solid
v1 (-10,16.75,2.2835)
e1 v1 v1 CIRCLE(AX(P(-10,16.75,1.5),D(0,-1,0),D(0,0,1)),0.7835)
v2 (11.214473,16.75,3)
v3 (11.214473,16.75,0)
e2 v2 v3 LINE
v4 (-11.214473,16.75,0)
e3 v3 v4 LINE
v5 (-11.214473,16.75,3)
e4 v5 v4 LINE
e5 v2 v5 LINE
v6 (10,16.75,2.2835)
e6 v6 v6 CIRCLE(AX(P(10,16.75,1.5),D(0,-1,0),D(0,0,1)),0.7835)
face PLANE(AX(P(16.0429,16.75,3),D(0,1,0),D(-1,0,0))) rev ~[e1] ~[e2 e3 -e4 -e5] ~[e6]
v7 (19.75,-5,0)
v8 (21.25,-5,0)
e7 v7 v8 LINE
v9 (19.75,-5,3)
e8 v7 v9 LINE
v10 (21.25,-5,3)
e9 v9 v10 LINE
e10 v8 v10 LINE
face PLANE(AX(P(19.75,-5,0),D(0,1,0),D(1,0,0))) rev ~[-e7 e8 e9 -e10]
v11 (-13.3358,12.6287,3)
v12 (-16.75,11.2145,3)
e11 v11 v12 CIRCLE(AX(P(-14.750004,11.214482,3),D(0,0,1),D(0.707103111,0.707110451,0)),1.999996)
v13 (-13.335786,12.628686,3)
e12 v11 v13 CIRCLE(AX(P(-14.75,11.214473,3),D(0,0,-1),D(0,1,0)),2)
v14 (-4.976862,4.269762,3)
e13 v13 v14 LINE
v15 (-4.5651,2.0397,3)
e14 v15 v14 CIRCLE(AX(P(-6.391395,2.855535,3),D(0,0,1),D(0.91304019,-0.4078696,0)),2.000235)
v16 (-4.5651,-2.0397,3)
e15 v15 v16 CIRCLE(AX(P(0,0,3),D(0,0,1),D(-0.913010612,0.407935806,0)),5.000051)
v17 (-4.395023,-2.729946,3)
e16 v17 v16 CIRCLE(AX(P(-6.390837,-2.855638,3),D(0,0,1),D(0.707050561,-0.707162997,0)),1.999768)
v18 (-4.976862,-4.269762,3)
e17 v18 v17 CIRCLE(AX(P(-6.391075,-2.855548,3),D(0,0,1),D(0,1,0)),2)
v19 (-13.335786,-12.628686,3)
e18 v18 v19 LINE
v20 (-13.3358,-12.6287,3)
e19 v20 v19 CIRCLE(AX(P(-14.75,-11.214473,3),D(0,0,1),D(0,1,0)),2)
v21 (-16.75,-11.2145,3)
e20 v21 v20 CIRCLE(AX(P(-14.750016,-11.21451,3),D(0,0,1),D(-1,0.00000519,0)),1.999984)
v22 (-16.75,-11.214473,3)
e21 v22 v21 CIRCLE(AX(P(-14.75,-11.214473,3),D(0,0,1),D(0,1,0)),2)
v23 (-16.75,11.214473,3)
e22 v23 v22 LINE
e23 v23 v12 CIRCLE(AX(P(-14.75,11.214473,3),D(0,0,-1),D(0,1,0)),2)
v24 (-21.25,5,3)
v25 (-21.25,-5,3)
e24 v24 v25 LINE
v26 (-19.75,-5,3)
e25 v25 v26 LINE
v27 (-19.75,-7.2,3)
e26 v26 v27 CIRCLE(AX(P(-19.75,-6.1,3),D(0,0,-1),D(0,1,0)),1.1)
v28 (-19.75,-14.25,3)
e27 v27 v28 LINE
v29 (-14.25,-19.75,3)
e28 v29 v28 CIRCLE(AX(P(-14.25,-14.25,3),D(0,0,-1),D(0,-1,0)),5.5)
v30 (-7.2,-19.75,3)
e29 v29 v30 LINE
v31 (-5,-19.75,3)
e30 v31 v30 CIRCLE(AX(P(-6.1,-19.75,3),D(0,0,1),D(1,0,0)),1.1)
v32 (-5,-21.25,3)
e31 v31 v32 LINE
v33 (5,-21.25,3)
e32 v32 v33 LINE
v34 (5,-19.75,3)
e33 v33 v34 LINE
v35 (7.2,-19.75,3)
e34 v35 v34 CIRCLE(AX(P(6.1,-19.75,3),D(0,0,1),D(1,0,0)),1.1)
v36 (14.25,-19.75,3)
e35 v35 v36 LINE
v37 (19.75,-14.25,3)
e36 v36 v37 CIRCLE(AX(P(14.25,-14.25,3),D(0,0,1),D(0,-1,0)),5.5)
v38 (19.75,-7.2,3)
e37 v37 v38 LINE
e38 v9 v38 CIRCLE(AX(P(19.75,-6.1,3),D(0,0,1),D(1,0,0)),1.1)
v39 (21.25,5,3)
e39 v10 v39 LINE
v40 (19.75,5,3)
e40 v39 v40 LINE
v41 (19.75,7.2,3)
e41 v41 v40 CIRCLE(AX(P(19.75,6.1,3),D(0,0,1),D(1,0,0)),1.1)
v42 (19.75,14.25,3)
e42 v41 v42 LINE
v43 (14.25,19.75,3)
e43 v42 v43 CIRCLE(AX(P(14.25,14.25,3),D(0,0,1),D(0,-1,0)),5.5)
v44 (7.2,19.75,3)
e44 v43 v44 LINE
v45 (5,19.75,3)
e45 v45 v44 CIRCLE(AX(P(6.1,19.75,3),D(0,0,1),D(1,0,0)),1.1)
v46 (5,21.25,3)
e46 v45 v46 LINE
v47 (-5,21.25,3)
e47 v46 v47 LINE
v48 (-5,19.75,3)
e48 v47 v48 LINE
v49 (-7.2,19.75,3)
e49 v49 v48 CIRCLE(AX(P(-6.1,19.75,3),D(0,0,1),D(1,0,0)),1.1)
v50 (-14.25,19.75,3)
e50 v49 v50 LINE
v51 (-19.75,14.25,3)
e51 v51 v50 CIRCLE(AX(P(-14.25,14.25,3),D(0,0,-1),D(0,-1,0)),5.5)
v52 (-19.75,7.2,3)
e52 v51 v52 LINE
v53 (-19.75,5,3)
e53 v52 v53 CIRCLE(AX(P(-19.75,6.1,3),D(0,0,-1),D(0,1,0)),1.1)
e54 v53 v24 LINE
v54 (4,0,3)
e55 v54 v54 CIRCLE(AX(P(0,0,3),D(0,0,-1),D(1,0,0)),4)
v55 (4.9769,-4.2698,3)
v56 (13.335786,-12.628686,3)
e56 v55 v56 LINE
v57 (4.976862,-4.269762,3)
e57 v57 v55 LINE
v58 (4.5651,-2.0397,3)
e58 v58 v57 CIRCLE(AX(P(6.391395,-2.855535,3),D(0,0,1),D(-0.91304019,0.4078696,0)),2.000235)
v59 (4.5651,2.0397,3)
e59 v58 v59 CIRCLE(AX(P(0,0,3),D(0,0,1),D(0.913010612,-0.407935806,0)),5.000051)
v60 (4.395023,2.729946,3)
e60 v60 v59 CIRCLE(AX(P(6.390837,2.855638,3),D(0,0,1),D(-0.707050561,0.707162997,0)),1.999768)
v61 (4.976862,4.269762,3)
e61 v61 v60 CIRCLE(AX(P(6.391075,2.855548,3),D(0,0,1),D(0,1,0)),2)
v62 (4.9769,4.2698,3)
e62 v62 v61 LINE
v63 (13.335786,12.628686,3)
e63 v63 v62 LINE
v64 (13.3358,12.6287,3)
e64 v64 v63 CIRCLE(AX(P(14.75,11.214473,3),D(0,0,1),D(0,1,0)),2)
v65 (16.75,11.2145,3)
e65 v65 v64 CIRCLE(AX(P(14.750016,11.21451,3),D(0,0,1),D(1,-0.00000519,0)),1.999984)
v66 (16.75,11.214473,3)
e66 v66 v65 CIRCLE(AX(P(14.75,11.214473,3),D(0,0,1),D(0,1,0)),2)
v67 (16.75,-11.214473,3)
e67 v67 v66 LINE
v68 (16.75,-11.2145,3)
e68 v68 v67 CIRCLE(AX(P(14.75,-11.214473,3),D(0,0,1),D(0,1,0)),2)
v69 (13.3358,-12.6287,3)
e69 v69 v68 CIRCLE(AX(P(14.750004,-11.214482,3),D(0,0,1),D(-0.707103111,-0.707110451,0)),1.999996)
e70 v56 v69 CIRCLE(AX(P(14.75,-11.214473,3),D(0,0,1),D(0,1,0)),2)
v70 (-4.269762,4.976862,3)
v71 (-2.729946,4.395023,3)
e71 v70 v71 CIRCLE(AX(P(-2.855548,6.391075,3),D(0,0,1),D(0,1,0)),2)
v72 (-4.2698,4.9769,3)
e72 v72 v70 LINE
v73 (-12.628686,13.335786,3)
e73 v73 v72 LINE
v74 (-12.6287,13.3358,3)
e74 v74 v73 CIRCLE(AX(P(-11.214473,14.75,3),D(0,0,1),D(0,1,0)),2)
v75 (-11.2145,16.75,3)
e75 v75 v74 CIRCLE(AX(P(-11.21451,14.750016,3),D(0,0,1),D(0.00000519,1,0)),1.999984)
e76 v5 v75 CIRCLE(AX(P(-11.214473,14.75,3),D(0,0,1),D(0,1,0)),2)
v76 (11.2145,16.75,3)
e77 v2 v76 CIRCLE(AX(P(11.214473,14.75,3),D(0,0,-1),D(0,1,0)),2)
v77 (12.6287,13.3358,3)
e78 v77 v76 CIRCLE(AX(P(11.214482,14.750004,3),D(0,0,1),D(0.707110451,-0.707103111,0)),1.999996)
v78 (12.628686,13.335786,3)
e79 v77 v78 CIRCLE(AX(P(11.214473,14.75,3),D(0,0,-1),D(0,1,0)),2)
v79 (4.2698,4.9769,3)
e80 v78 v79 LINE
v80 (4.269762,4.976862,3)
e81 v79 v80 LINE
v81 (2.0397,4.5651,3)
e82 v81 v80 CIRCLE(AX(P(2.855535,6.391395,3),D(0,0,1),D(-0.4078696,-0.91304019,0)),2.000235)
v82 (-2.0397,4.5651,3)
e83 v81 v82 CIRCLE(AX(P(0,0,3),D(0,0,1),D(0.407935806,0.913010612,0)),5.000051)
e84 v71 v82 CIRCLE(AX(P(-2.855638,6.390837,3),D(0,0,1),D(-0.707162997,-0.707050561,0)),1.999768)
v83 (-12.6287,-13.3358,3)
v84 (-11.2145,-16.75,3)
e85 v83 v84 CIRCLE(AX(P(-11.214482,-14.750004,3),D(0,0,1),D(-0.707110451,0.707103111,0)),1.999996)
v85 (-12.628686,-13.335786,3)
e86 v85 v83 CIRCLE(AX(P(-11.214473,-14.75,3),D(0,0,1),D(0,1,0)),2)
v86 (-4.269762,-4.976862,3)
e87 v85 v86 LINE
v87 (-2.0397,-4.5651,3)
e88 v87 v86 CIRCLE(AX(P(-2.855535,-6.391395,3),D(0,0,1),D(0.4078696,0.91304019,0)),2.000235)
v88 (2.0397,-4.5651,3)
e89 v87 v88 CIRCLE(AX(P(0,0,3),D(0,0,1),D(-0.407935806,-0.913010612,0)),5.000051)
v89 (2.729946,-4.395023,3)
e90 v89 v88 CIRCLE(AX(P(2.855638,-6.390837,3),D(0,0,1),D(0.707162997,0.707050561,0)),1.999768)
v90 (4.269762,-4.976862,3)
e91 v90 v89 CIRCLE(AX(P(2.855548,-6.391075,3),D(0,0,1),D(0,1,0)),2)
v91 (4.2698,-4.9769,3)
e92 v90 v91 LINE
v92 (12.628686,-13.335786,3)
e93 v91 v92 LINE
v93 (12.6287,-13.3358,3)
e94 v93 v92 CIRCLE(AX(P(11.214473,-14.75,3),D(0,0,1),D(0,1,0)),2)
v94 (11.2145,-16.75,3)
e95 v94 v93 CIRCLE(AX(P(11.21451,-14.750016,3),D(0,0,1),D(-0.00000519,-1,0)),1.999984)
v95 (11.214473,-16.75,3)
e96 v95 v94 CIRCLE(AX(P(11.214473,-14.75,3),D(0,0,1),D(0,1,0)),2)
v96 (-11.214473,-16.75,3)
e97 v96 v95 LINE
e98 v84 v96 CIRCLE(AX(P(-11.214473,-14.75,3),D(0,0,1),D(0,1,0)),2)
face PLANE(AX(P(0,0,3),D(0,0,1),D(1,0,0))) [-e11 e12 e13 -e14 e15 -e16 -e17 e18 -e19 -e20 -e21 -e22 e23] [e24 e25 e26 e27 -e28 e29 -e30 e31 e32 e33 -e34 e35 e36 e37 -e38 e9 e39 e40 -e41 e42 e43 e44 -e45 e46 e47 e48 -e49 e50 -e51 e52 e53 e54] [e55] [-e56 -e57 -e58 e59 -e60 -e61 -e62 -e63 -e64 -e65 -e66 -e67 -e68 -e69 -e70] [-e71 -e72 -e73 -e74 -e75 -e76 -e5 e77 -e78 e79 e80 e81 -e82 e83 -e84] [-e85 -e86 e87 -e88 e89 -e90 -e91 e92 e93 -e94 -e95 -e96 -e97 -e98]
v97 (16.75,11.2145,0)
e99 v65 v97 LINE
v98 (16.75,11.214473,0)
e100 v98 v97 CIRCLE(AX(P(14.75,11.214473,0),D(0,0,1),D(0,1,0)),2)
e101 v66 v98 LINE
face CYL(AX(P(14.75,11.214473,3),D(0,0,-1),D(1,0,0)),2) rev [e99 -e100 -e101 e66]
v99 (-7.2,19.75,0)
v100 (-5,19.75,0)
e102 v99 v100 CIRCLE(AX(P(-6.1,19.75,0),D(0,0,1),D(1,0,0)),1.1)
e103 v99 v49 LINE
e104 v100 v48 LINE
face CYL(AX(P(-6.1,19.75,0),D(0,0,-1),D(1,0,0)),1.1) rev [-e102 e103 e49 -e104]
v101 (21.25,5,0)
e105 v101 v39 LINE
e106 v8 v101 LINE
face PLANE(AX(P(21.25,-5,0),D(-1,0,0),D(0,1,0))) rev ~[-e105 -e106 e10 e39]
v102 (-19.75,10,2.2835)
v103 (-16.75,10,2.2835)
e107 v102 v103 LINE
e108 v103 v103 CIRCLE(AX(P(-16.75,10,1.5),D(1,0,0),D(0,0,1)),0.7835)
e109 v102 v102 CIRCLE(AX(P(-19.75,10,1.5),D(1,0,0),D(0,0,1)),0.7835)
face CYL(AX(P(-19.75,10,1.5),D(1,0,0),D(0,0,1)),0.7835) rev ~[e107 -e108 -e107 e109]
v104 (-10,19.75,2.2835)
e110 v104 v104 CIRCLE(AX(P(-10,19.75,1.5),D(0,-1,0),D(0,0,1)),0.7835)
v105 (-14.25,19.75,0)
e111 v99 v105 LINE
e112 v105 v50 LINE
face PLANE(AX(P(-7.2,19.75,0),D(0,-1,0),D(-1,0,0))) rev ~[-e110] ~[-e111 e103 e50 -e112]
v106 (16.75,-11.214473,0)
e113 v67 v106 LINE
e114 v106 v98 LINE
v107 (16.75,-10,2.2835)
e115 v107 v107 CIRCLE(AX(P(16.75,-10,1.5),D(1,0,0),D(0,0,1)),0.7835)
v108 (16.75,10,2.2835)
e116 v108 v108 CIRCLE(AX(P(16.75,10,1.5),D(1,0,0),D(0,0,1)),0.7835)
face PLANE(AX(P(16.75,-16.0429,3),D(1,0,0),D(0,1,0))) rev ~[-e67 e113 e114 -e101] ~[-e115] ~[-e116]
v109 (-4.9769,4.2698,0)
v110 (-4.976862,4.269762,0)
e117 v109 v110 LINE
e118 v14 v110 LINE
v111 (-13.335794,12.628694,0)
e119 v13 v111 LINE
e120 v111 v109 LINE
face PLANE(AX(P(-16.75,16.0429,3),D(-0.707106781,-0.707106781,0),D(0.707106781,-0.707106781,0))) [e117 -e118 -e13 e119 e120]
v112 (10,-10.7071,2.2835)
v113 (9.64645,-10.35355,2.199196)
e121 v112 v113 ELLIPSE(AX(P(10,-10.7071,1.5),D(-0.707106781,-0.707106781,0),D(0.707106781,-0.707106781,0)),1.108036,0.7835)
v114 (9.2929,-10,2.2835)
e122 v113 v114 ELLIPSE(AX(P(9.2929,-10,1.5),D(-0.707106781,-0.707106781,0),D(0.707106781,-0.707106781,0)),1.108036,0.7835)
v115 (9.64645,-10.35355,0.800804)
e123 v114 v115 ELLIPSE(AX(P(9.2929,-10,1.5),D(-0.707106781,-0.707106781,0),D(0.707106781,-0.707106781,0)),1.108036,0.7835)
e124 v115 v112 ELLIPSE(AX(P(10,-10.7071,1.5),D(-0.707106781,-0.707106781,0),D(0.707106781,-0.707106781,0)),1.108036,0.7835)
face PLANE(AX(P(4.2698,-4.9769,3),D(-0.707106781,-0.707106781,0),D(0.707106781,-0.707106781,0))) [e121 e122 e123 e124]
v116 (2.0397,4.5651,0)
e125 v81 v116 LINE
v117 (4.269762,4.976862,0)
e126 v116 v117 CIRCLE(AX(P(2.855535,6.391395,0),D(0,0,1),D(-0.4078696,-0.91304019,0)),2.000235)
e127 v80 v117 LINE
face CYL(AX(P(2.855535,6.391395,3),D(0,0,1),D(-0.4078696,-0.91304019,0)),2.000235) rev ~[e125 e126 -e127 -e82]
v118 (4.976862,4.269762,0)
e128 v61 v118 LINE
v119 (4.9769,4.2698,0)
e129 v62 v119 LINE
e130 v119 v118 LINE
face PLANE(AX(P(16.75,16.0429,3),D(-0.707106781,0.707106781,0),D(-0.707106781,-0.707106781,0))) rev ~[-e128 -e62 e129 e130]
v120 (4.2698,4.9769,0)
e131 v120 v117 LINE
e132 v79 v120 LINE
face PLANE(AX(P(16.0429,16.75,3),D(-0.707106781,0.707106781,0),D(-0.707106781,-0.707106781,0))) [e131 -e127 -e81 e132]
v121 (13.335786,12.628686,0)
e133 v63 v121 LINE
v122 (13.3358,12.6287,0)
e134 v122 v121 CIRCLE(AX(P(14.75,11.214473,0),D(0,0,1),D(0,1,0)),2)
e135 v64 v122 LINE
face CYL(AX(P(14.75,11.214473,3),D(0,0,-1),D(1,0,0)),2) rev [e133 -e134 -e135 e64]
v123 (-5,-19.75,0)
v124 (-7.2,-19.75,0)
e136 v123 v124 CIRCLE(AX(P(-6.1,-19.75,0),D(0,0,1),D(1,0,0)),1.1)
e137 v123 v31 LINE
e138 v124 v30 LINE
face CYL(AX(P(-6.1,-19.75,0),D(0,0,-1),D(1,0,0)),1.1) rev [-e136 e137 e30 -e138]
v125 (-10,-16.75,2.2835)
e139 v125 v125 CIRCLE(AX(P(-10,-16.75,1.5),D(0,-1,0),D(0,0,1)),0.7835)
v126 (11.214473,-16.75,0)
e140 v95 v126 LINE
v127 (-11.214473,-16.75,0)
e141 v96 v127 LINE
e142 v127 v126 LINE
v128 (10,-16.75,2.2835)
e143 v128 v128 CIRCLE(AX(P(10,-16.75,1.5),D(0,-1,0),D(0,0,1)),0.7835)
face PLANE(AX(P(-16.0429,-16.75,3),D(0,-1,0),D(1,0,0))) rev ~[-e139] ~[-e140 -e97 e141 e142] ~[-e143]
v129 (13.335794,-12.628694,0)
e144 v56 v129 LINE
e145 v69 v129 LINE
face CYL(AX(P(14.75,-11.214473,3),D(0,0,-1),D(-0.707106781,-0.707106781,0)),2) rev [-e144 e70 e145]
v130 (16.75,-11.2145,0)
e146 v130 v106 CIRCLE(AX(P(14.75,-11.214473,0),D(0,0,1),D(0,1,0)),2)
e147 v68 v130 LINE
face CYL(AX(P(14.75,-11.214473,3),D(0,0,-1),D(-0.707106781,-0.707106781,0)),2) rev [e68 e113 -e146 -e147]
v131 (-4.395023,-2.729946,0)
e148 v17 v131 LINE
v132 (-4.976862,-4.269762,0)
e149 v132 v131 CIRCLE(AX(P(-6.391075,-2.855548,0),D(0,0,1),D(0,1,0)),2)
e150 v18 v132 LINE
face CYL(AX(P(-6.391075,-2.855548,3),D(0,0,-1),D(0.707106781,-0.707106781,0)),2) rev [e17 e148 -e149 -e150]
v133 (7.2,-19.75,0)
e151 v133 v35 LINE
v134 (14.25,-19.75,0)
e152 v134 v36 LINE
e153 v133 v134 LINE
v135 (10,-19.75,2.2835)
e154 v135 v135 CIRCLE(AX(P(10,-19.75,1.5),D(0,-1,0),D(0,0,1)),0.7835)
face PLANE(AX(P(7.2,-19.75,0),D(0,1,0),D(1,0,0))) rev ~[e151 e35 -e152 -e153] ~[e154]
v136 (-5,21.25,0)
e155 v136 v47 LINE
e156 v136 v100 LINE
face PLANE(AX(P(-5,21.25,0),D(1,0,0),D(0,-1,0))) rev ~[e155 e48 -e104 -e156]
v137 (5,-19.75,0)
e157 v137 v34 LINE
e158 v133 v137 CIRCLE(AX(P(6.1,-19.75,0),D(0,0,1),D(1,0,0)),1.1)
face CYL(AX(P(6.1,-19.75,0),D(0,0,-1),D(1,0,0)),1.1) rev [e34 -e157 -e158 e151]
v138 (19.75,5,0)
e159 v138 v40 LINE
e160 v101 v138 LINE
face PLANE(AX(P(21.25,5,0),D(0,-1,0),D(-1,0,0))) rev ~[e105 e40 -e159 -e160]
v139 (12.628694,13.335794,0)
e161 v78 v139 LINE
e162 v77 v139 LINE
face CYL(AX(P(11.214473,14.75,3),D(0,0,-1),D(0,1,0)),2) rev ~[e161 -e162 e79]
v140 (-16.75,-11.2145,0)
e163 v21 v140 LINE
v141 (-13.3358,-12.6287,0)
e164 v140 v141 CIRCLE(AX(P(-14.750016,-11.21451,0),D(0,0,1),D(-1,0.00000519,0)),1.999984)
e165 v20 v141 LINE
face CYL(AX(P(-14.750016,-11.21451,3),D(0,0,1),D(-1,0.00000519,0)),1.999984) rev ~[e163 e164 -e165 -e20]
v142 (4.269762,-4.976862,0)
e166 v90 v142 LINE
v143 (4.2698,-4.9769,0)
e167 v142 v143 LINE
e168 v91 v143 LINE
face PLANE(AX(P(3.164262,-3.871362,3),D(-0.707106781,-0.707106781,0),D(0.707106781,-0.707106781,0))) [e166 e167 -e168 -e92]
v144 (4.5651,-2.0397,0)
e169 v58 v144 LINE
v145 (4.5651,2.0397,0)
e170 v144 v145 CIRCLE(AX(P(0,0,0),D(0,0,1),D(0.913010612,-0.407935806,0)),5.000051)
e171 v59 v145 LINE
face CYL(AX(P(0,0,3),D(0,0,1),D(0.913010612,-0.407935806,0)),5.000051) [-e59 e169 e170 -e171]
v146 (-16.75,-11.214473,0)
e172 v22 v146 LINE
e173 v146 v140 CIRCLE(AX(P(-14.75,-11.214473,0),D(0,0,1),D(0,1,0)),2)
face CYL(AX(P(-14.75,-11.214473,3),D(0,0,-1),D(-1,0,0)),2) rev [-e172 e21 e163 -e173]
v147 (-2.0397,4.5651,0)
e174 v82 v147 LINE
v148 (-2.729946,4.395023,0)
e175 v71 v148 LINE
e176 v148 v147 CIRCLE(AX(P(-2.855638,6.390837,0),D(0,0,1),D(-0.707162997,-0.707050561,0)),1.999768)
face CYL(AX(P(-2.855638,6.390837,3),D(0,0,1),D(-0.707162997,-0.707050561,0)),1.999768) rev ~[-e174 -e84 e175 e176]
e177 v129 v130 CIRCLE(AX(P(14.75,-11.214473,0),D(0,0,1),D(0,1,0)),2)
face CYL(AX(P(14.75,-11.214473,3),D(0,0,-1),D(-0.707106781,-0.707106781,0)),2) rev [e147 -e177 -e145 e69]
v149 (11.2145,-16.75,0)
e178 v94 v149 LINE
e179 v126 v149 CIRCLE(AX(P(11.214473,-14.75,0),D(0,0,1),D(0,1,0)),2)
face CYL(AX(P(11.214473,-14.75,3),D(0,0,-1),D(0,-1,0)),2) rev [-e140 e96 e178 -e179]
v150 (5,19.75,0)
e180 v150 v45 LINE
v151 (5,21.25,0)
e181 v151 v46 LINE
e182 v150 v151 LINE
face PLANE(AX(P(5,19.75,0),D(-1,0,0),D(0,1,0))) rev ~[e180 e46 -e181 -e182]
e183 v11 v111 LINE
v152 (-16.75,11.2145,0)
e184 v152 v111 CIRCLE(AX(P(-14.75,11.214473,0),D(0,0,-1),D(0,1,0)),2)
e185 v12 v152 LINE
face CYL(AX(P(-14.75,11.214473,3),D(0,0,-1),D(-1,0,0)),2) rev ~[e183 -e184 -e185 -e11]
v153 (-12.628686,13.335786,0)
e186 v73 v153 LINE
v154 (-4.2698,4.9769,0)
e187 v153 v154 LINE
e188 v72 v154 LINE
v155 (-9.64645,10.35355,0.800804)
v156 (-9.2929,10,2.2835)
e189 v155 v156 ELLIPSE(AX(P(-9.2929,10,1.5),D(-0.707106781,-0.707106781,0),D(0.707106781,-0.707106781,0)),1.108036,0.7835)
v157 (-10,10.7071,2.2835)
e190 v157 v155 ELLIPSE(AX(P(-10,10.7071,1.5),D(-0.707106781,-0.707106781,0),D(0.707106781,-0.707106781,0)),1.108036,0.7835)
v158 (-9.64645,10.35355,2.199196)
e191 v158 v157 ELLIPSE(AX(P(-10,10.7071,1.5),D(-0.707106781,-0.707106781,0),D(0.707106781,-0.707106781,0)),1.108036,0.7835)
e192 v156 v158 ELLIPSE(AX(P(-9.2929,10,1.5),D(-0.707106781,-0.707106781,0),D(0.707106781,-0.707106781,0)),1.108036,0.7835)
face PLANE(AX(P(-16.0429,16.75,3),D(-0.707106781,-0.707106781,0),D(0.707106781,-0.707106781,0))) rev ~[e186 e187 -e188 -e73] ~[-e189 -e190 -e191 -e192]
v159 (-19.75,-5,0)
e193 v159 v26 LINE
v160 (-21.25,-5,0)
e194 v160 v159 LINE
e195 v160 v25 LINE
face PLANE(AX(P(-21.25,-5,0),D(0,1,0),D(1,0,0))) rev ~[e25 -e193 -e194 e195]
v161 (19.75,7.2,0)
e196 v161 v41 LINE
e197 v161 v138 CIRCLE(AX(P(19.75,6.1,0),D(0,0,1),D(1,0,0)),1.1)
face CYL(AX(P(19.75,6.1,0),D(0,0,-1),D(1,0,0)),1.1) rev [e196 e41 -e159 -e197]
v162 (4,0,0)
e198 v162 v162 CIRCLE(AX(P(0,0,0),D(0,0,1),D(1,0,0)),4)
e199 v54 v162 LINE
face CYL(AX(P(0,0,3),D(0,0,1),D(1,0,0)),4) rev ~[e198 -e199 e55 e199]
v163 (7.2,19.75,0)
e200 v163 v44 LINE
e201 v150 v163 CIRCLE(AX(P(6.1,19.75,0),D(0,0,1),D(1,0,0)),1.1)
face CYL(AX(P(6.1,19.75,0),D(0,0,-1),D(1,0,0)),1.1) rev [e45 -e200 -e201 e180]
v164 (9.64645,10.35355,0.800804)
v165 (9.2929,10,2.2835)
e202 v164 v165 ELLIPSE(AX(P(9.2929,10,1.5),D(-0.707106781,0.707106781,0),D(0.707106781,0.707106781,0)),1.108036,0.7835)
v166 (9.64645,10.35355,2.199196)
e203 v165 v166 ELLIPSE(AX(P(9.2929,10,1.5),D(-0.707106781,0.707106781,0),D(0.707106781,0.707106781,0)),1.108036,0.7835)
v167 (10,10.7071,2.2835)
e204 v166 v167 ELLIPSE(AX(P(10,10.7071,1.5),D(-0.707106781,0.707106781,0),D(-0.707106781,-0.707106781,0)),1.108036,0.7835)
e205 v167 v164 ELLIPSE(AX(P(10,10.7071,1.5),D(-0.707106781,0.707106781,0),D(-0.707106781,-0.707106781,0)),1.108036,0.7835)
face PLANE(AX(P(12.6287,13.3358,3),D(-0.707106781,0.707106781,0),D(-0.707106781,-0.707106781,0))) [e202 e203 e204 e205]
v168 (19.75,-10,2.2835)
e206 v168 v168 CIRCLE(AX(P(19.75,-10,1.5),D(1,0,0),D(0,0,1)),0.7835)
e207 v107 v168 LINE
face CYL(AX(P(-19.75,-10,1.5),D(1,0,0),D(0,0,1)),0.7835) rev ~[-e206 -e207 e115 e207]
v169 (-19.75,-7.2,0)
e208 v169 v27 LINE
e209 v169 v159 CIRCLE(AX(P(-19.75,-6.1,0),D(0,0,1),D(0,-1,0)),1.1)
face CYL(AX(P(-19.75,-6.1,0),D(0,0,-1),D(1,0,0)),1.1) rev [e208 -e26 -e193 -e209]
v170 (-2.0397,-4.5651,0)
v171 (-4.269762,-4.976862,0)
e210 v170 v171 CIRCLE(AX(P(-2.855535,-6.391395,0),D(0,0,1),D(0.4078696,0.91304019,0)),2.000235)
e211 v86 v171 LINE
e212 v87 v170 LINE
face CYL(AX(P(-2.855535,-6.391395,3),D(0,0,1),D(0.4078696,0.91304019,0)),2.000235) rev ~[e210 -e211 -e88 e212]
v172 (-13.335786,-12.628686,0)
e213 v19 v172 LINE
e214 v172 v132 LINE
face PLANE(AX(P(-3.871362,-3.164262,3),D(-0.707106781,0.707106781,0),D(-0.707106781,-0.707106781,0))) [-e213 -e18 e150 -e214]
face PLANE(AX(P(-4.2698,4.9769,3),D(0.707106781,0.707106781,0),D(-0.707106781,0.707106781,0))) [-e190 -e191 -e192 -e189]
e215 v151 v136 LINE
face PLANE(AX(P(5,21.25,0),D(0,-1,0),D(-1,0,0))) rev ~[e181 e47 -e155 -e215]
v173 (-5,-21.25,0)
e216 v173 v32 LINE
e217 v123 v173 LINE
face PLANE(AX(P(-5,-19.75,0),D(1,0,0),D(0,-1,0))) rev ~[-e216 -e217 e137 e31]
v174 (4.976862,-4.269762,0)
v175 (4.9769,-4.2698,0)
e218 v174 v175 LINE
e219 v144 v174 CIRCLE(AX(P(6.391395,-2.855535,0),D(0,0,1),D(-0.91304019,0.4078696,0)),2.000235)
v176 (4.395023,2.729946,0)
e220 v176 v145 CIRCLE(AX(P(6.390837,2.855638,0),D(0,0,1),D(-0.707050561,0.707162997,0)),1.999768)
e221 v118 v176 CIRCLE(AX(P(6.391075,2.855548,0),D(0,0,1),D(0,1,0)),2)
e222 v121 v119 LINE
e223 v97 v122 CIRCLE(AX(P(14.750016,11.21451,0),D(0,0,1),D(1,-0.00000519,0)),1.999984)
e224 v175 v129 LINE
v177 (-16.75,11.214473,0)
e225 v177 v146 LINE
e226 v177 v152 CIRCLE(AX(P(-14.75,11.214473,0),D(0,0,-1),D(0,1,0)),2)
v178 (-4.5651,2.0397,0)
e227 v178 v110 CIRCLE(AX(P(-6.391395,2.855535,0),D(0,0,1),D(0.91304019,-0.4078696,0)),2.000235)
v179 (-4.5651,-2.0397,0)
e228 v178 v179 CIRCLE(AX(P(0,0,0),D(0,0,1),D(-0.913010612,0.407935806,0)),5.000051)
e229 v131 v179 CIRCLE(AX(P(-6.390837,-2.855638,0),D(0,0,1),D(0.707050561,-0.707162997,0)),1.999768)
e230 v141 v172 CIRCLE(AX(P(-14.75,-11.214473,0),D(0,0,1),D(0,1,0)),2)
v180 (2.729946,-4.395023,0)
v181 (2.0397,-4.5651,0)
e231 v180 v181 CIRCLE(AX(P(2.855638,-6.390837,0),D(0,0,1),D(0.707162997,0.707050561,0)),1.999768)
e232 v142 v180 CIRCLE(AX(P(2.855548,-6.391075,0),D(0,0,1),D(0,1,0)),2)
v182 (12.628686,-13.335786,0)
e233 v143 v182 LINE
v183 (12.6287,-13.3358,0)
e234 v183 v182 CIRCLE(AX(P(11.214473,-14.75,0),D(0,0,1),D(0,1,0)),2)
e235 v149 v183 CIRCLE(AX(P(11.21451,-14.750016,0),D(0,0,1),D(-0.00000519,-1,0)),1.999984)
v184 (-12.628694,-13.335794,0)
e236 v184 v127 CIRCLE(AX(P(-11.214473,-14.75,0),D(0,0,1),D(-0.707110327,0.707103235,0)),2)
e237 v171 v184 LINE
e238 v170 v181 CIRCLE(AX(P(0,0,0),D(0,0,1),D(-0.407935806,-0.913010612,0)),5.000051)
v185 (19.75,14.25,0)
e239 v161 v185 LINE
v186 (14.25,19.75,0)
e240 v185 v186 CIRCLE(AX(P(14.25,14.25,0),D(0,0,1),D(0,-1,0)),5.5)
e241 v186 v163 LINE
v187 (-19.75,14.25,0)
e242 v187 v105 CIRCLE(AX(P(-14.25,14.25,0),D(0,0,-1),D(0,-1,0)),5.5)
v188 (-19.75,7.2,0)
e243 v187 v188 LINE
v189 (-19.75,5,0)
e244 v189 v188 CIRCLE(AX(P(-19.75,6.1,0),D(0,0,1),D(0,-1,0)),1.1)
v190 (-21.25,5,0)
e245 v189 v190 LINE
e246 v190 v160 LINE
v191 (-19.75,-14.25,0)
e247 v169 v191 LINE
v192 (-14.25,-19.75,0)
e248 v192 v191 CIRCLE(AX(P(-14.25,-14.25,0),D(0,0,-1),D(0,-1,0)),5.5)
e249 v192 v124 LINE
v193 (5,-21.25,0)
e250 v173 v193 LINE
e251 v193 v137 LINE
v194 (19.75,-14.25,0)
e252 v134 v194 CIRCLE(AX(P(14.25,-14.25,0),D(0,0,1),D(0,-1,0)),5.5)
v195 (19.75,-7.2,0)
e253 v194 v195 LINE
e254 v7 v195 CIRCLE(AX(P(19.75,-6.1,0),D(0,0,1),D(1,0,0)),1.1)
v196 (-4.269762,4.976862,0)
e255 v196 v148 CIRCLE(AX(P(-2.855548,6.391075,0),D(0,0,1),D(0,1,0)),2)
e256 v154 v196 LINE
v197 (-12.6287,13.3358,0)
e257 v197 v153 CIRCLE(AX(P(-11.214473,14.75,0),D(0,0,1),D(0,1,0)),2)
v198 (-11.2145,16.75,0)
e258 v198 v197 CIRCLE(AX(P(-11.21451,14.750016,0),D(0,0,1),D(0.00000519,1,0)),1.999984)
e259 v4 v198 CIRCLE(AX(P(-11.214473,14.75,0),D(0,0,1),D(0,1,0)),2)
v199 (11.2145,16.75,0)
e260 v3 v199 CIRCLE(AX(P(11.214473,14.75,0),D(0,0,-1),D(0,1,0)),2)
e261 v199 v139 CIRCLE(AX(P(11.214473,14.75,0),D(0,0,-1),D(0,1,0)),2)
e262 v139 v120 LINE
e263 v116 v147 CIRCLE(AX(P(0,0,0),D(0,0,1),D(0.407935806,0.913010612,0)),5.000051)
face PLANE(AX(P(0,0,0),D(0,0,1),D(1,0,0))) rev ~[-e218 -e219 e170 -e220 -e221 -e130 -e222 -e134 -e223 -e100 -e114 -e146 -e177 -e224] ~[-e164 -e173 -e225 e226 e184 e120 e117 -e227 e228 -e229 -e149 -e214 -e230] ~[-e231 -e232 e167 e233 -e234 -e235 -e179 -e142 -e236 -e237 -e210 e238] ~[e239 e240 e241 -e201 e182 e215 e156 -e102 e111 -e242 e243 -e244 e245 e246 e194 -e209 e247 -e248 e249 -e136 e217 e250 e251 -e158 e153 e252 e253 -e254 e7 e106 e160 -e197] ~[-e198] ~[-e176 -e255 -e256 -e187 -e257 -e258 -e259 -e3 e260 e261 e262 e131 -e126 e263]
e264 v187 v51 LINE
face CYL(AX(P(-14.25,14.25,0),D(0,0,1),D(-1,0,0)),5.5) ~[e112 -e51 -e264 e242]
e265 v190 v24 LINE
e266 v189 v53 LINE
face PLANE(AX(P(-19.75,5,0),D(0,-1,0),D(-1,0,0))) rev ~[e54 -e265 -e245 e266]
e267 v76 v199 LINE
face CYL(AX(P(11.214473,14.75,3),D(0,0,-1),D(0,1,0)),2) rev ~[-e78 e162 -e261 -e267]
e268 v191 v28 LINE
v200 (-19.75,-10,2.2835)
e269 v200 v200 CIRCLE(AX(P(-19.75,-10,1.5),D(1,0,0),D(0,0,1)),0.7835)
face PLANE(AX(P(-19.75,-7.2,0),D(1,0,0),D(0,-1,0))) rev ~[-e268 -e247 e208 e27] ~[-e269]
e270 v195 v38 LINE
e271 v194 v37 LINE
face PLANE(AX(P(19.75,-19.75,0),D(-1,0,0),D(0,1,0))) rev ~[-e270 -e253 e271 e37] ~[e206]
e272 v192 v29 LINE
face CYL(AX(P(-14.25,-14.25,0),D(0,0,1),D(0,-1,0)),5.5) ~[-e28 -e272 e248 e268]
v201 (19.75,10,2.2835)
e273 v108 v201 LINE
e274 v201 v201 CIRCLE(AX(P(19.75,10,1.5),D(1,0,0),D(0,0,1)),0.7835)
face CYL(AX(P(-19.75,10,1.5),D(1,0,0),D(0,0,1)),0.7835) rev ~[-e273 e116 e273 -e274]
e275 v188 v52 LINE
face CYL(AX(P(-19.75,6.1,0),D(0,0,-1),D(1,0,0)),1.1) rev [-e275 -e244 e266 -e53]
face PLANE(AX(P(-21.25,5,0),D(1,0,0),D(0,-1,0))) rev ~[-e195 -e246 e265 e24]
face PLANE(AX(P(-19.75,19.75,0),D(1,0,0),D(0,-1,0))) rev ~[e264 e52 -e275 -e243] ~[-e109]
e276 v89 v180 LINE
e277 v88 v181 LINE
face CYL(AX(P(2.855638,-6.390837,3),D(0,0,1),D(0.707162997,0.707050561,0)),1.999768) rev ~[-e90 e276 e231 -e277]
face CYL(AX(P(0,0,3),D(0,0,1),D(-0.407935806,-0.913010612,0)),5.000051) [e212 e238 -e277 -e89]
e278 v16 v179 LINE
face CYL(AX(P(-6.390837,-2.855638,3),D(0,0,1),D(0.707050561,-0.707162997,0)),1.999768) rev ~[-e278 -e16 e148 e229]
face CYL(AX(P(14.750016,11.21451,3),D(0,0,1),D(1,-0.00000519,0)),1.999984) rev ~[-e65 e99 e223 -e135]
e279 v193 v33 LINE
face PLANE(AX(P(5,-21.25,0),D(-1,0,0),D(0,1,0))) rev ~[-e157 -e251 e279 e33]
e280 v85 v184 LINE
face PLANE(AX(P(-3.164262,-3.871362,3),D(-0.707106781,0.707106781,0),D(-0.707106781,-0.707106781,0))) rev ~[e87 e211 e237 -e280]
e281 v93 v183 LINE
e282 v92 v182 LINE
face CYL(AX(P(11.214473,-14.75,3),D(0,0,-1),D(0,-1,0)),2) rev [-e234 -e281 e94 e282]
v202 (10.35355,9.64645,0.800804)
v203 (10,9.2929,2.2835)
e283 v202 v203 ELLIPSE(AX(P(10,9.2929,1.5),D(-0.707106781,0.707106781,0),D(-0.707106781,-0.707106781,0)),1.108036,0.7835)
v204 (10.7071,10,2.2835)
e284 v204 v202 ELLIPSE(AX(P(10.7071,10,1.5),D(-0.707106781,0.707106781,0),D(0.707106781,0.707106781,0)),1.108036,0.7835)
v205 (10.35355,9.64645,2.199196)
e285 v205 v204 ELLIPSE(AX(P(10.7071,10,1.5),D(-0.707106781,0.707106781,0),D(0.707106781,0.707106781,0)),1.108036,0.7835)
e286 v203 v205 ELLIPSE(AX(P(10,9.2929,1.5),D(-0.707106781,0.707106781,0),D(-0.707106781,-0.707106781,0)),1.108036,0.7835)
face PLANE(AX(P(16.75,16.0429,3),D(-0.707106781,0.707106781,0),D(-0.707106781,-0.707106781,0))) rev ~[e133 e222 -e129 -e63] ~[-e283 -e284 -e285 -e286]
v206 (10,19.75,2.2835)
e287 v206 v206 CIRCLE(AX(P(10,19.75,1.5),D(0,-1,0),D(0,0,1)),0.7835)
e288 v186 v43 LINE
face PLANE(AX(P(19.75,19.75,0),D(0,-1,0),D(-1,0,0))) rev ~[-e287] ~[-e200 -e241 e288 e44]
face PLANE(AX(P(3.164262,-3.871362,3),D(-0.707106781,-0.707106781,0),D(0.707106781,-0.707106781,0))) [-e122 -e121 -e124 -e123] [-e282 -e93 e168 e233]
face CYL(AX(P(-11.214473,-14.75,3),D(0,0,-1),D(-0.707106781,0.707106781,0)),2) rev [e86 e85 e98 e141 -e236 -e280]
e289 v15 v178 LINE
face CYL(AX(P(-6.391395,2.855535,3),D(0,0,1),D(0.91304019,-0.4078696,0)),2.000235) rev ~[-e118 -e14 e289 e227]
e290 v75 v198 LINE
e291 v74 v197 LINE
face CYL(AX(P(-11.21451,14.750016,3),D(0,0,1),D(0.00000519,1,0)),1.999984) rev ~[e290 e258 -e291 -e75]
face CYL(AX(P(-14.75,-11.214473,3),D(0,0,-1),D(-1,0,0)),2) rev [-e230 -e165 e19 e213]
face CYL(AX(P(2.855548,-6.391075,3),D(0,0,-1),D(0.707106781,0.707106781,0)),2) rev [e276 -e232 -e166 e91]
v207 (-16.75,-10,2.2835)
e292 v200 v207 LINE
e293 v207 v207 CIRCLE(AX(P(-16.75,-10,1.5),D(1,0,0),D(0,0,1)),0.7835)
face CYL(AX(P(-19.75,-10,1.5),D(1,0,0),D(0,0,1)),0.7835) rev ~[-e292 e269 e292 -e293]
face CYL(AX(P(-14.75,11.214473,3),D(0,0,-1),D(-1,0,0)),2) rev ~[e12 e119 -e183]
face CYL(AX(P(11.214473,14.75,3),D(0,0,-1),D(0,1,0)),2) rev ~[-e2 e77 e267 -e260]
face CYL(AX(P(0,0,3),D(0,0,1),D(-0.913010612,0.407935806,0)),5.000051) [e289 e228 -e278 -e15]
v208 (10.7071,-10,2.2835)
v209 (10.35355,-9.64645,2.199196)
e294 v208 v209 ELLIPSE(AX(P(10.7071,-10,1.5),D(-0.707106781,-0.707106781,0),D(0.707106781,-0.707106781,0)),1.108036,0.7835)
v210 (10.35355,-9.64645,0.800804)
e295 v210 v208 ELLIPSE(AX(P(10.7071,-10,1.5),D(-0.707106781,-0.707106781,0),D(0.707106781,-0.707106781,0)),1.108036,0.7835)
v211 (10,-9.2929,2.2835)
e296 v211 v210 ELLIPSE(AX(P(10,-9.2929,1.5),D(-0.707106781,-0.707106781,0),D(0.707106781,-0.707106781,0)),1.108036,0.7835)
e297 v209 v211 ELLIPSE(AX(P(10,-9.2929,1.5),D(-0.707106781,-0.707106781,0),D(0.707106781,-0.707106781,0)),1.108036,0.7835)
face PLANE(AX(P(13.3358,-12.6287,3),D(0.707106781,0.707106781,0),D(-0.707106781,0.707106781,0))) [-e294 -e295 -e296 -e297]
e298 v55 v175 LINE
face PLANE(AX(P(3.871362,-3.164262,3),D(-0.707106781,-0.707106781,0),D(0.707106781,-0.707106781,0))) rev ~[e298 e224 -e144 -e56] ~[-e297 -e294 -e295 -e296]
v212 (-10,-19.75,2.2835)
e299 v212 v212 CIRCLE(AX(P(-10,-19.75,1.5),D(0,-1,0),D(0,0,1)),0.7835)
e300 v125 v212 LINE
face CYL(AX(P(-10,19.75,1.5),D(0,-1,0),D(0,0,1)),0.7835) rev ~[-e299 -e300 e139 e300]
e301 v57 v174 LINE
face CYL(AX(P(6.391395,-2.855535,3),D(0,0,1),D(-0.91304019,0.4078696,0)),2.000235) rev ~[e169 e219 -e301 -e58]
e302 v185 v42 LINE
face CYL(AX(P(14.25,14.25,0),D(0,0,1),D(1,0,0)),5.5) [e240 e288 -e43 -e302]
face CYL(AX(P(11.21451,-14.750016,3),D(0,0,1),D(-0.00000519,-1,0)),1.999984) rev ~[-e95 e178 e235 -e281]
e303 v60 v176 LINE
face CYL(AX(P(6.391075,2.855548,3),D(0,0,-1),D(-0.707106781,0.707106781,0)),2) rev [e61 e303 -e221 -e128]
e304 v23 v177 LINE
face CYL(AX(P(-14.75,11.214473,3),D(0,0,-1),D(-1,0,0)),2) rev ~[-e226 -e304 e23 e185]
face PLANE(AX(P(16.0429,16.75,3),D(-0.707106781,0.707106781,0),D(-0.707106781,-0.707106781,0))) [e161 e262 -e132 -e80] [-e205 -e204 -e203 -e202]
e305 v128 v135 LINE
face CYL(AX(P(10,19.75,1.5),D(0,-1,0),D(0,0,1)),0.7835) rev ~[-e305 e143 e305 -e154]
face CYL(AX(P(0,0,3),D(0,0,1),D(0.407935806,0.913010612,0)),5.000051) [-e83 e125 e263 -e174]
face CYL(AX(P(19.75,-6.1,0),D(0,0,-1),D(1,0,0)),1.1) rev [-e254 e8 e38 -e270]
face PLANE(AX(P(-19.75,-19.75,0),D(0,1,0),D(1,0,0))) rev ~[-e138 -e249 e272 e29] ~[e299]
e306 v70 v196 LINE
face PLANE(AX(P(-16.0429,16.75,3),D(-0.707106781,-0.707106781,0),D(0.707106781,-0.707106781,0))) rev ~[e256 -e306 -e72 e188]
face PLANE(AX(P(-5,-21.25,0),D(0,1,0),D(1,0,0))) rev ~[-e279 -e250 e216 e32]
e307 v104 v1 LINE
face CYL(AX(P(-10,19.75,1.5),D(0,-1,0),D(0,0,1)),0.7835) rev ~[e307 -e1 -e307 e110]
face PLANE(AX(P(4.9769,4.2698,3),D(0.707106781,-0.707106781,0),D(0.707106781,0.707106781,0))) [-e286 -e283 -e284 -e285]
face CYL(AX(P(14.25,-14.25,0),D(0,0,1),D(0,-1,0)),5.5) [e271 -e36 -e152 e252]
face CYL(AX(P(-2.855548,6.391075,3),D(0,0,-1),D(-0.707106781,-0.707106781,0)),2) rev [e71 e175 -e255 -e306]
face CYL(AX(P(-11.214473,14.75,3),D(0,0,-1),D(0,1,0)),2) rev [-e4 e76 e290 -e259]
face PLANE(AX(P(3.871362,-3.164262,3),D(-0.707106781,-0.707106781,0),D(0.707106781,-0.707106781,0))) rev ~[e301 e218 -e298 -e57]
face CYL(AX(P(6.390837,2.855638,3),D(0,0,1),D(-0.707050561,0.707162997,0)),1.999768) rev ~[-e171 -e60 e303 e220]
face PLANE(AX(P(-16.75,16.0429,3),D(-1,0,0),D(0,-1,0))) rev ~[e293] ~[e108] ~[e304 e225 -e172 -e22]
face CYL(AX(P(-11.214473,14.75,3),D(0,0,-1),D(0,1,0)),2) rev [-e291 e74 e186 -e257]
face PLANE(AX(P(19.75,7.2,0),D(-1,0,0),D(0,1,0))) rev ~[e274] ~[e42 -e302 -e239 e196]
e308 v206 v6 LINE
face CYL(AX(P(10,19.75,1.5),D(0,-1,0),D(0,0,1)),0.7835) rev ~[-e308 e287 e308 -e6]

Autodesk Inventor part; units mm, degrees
ref_plane "YZ Plane" through (0, 0, 0) normal (1, 0, 0) x (0, 1, 0)
ref_plane "XZ Plane" through (0, 0, 0) normal (0, 1, 0) x (-1, 0, 0)
ref_plane "XY Plane" through (0, 0, 0) normal (0, 0, 1) x (1, 0, 0)
sketch "スケッチ1" plane through (0, 0, 0) normal (0, 0, 1) x (1, 0, 0)
  line L0 (-19.75, -19.75) -> (19.75, -19.75)
  line L1 (19.75, -19.75) -> (19.75, 19.75)
  line L2 (19.75, 19.75) -> (-19.75, 19.75)
  line L3 (-19.75, 19.75) -> (-19.75, -19.75)
  line L4 (-19.75, -19.75) -> (19.75, 19.75) construction
  line L5 (19.75, -19.75) -> (-19.75, 19.75) construction
  line L6 (-5, 19.75) -> (5, 19.75)
  line L7 (5, 19.75) -> (5, 21.25)
  line L8 (5, 21.25) -> (-5, 21.25)
  line L9 (-5, 21.25) -> (-5, 19.75)
  circle A0 centre (0, 0) radius 19.75 construction
  circle A1 centre (-6.1, 19.75) radius 1.1
  line L10 (0, 21.25) -> (0, 19.75) construction
  circle A2 centre (6.1, 19.75) radius 1.1
  circle A3 centre (-19.75, -6.1) radius 1.1
  line L11 (-21.25, 5) -> (-21.25, -5)
  line L12 (-21.25, -5) -> (-19.75, -5)
  line L13 (-19.75, 5) -> (-21.25, 5)
  circle A4 centre (-19.75, 6.1) radius 1.1
  circle A5 centre (6.1, -19.75) radius 1.1
  line L14 (-5, -21.25) -> (5, -21.25)
  line L15 (5, -21.25) -> (5, -19.75)
  line L16 (-5, -19.75) -> (-5, -21.25)
  circle A6 centre (-6.1, -19.75) radius 1.1
  circle A7 centre (19.75, 6.1) radius 1.1
  line L17 (21.25, -5) -> (21.25, 5)
  line L18 (21.25, 5) -> (19.75, 5)
  line L19 (19.75, -5) -> (21.25, -5)
  circle A8 centre (19.75, -6.1) radius 1.1
  point P0 (-21.25, 0)
  point P1 (0, -21.25)
  point P2 (21.25, 0)
  point P3 (-19.75, -7.2)
  point P4 (-7.2, -19.75)
  point P5 (-5, -19.75)
  point P6 (7.2, -19.75)
  point P7 (19.75, -7.2)
  point P8 (19.75, -5)
  point P9 (19.75, 7.2)
  point P10 (7.2, 19.75)
  point P11 (5, 19.75)
  point P12 (-7.2, 19.75)
  point P13 (-19.75, 7.2)
  point P14 (-19.75, 5)
  dimension "d3" = 2.2
  dimension "d0" = 39.5
  dimension "d1" = 1.5
  dimension "d2" = 10
  dimension "d6" = 360
extrude "押し出し1" add sketch "スケッチ1" along normal blind 3 contours A6 L0 L3 A3 A4 L2 A1 A2 L1 A7 A8 A5 | L0 L15 L14 L16 | L12 L11 L13 L3 | L1 L18 L17 L19 | L9 L8 L7 L2
sketch "スケッチ4" plane through (0, 0, 3) normal (0, 0, 1) x (1, 0, 0)
  line L0 (-16.75, -16.75) -> (16.75, -16.75)
  line L1 (16.75, -16.75) -> (16.75, 16.75)
  line L2 (16.75, 16.75) -> (-16.75, 16.75)
  line L3 (-16.75, 16.75) -> (-16.75, -16.75)
  line L4 (-16.75, -16.75) -> (16.75, 16.75) construction
  line L5 (16.75, -16.75) -> (-16.75, 16.75) construction
  arc A0 (-7.2, 19.75) -> (-5, 19.75) centre (-6.1, 19.75) ccw projected
  arc A1 (-19.75, 5) -> (-19.75, 7.2) centre (-19.75, 6.1) ccw projected
  line L6 (-7.2, 19.75) -> (-19.75, 19.75) projected
  line L7 (-19.75, 19.75) -> (-19.75, 7.2) projected
  circle A2 centre (0, 0) radius 4
  circle A3 centre (0, 0) radius 5
  line L8 (-16.0429, 16.75) -> (16.75, -16.0429)
  line L9 (-16.75, 16.0429) -> (16.0429, -16.75)
  line L10 (0, 16.75) -> (0, 0) construction
  line L11 (16.0429, 16.75) -> (-16.75, -16.0429)
  line L12 (16.75, 16.0429) -> (-16.0429, -16.75)
  point P0 (-6.1, 18.65)
  point P1 (-18.65, 6.1)
  point P2 (-3.1643, -3.8714)
  point P3 (-16.0429, -16.75)
  point P4 (3.1643, -3.8714)
  point P5 (16.75, 16.0429)
  point P6 (3.8714, 3.1643)
  point P7 (3.8714, -3.1643)
  point P8 (-16.75, -16.0429)
  point P9 (-3.8714, -3.1643)
  point P10 (-3.8714, 3.1643)
  point P11 (-16.75, 16.0429)
  point P12 (3.1643, 3.8714)
  point P13 (16.0429, 16.75)
  point P14 (-3.1643, 3.8714)
  dimension "d30" = 3
  dimension "d31" = 3
  dimension "d32" = 8
  dimension "d33" = 10
  dimension "d34" = 0.5
extrude "押し出し2" cut sketch "スケッチ4" against normal through all contours L12 A3 L9 L0 | L3 L9 A3 L11 | L12 L9 A2 | A2 L11 L9 L12 | A2 L9 L11 | L8 A3 L12 L1 | L9 L12 L8 A2 | L9 L11 L8 L12 | L2 L11 A3 L8 | A2 L8 L11 L9 | L8 L12 A2 | L8 L11 A2 L12 | A2 L11 L8
fillet "フィレット1" radius 2 16 edges at (-16.75, 16.0429, 1.5) (-16.0429, 16.75, 1.5) (16.75, 16.0429, 1.5) (16.0429, 16.75, 1.5) (16.0429, -16.75, 1.5) (16.75, -16.0429, 1.5) (-16.0429, -16.75, 1.5) (-16.75, -16.0429, 1.5) (-3.1643, -3.8714, 1.5) (3.1643, -3.8714, 1.5) (3.8714, -3.1643, 1.5) (3.8714, 3.1643, 1.5) (3.1643, 3.8714, 1.5) (-3.1643, 3.8714, 1.5) (-3.8714, 3.1643, 1.5) (-3.8714, -3.1643, 1.5)
sketch "スケッチ2" plane through (-19.75, 7.2, 0) normal (-1, 0, 0) x (0, 0, 1)
  line L0 (0, -2.2) -> (3, -2.2) projected
  line L1 (0, -12.2) -> (3, -12.2) projected
  point P0 (0, -7.2)
  point P1 (1.5, 2.8)
  point P2 (1.5, -17.2)
  point P3 (1.5, -2.2)
  point P4 (1.5, -12.2)
  point P5 (1.5, -2.2)
  point P6 (1.5, -12.2)
  dimension "d10" = 5
  dimension "d11" = 5
hole "穴1" at (-19.75, 10, 1.5) at (-19.75, -10, 1.5) direction (1, 0, 0) diameter 1.567 end through all thread size "M2x0.4" class "6H" standard "ISO Metric profile"
sketch "スケッチ3" plane through (-19.75, 19.75, 0) normal (0, 1, 0) x (1, 0, 0)
  line L0 (14.75, 0) -> (14.75, -3) projected
  line L1 (24.75, 0) -> (24.75, -3) projected
  point P0 (19.75, 0)
  point P1 (9.75, -1.5)
  point P2 (29.75, -1.5)
  point P3 (14.75, -1.5)
  point P4 (24.75, -1.5)
  point P5 (14.75, -1.5)
  point P6 (24.75, -1.5)
  dimension "d19" = 5
  dimension "d20" = 5
hole "穴2" at (-10, 19.75, 1.5) at (10, 19.75, 1.5) direction (0, -1, 0) diameter 1.567 end through all thread size "M2x0.4" class "6H" standard "ISO Metric profile"
sketch "スケッチ5" plane through (0, 0, 3) normal (0, 0, 1) x (1, 0, 0)
  line L0 (-16.75, -16.75) -> (16.75, -16.75)
  line L1 (16.75, -16.75) -> (16.75, 16.75)
  line L2 (16.75, 16.75) -> (-16.75, 16.75)
  line L3 (-16.75, 16.75) -> (-16.75, -16.75)
  line L4 (-16.75, -16.75) -> (16.75, 16.75) construction
  line L5 (16.75, -16.75) -> (-16.75, 16.75) construction
  arc A0 (12.6287, 13.3358) -> (11.2145, 16.75) centre (11.2145, 14.75) ccw projected
  arc A1 (16.75, 11.2145) -> (13.3358, 12.6287) centre (14.75, 11.2145) ccw projected
  line L6 (13.3358, -12.6287) -> (4.9769, -4.2698) projected
  arc A2 (4.5651, -2.0397) -> (4.9769, -4.2698) centre (6.3911, -2.8555) ccw projected
  arc A3 (4.5651, -2.0397) -> (4.5651, 2.0397) centre (0, 0) ccw projected
  arc A4 (4.9769, 4.2698) -> (4.5651, 2.0397) centre (6.3911, 2.8555) ccw projected
  line L7 (4.9769, 4.2698) -> (13.3358, 12.6287) projected
  arc A5 (16.75, 11.2145) -> (13.3358, 12.6287) centre (14.75, 11.2145) ccw projected
  line L8 (16.75, 11.2145) -> (16.75, -11.2145) projected
  arc A6 (13.3358, -12.6287) -> (16.75, -11.2145) centre (14.75, -11.2145) ccw projected
  line L9 (4.2698, -4.9769) -> (12.6287, -13.3358) projected
  arc A7 (11.2145, -16.75) -> (12.6287, -13.3358) centre (11.2145, -14.75) ccw projected
  line L10 (11.2145, -16.75) -> (-11.2145, -16.75) projected
  arc A8 (-12.6287, -13.3358) -> (-11.2145, -16.75) centre (-11.2145, -14.75) ccw projected
  line L11 (-12.6287, -13.3358) -> (-4.2698, -4.9769) projected
  arc A9 (-2.0397, -4.5651) -> (-4.2698, -4.9769) centre (-2.8555, -6.3911) ccw projected
  arc A10 (-2.0397, -4.5651) -> (2.0397, -4.5651) centre (0, 0) ccw projected
  arc A11 (4.2698, -4.9769) -> (2.0397, -4.5651) centre (2.8555, -6.3911) ccw projected
  line L12 (-13.3358, 12.6287) -> (-4.9769, 4.2698) projected
  arc A12 (-4.5651, 2.0397) -> (-4.9769, 4.2698) centre (-6.3911, 2.8555) ccw projected
  arc A13 (-4.5651, 2.0397) -> (-4.5651, -2.0397) centre (0, 0) ccw projected
  arc A14 (-4.9769, -4.2698) -> (-4.5651, -2.0397) centre (-6.3911, -2.8555) ccw projected
  line L13 (-4.9769, -4.2698) -> (-13.3358, -12.6287) projected
  arc A15 (-16.75, -11.2145) -> (-13.3358, -12.6287) centre (-14.75, -11.2145) ccw projected
  line L14 (-16.75, -11.2145) -> (-16.75, 11.2145) projected
  arc A16 (-13.3358, 12.6287) -> (-16.75, 11.2145) centre (-14.75, 11.2145) ccw projected
  circle A17 centre (0, 0) radius 4 projected
  line L15 (-4.2698, 4.9769) -> (-12.6287, 13.3358) projected
  arc A18 (-11.2145, 16.75) -> (-12.6287, 13.3358) centre (-11.2145, 14.75) ccw projected
  line L16 (-11.2145, 16.75) -> (11.2145, 16.75) projected
  arc A19 (12.6287, 13.3358) -> (11.2145, 16.75) centre (11.2145, 14.75) ccw projected
  line L17 (12.6287, 13.3358) -> (4.2698, 4.9769) projected
  arc A20 (2.0397, 4.5651) -> (4.2698, 4.9769) centre (2.8555, 6.3911) ccw projected
  arc A21 (2.0397, 4.5651) -> (-2.0397, 4.5651) centre (0, 0) ccw projected
  arc A22 (-4.2698, 4.9769) -> (-2.0397, 4.5651) centre (-2.8555, 6.3911) ccw projected
  line L18 (-21.25, -5) -> (-19.75, -5) projected
  arc A23 (-19.75, -7.2) -> (-19.75, -5) centre (-19.75, -6.1) ccw projected
  line L19 (-19.75, -7.2) -> (-19.75, -19.75) projected
  line L20 (-19.75, -19.75) -> (-7.2, -19.75) projected
  arc A24 (-5, -19.75) -> (-7.2, -19.75) centre (-6.1, -19.75) ccw projected
  line L21 (-5, -19.75) -> (-5, -21.25) projected
  line L22 (-5, -21.25) -> (5, -21.25) projected
  line L23 (5, -21.25) -> (5, -19.75) projected
  arc A25 (7.2, -19.75) -> (5, -19.75) centre (6.1, -19.75) ccw projected
  line L24 (7.2, -19.75) -> (19.75, -19.75) projected
  line L25 (19.75, -19.75) -> (19.75, -7.2) projected
  arc A26 (19.75, -5) -> (19.75, -7.2) centre (19.75, -6.1) ccw projected
  line L26 (19.75, -5) -> (21.25, -5) projected
  line L27 (21.25, -5) -> (21.25, 5) projected
  line L28 (21.25, 5) -> (19.75, 5) projected
  arc A27 (19.75, 7.2) -> (19.75, 5) centre (19.75, 6.1) ccw projected
  line L29 (19.75, 7.2) -> (19.75, 19.75) projected
  line L30 (19.75, 19.75) -> (7.2, 19.75) projected
  arc A28 (5, 19.75) -> (7.2, 19.75) centre (6.1, 19.75) ccw projected
  line L31 (5, 19.75) -> (5, 21.25) projected
  line L32 (5, 21.25) -> (-5, 21.25) projected
  line L33 (-5, 21.25) -> (-5, 19.75) projected
  arc A29 (-7.2, 19.75) -> (-5, 19.75) centre (-6.1, 19.75) ccw projected
  line L34 (-7.2, 19.75) -> (-19.75, 19.75) projected
  line L35 (-19.75, 19.75) -> (-19.75, 7.2) projected
  arc A30 (-19.75, 5) -> (-19.75, 7.2) centre (-19.75, 6.1) ccw projected
  line L36 (-19.75, 5) -> (-21.25, 5) projected
  line L37 (-21.25, 5) -> (-21.25, -5) projected
  point P0 (11.2145, 16.75)
  point P1 (-11.2145, -16.75)
extrude "押し出し3" add sketch "スケッチ5" against normal up to surface (3 mm away) contours L3 A15 L13 A14 A13 A12 L12 A16 L2 A18 L15 A22 A21 A20 L17 A0 L1 A1 L7 A4 A3 A2 L6 A6 L0 A7 L9 A11 A10 A9 L11 A8
fillet "フィレット2" radius 5.5 4 edges at (-19.75, 19.75, 1.5) (19.75, 19.75, 1.5) (19.75, -19.75, 1.5) (-19.75, -19.75, 1.5)
equation "\"d31\" = d30"
equation "\"d11\" = d10"
equation "\"d20\" = d19"
properties part number "t3kata" material "アルミニウム 2014-T4"
